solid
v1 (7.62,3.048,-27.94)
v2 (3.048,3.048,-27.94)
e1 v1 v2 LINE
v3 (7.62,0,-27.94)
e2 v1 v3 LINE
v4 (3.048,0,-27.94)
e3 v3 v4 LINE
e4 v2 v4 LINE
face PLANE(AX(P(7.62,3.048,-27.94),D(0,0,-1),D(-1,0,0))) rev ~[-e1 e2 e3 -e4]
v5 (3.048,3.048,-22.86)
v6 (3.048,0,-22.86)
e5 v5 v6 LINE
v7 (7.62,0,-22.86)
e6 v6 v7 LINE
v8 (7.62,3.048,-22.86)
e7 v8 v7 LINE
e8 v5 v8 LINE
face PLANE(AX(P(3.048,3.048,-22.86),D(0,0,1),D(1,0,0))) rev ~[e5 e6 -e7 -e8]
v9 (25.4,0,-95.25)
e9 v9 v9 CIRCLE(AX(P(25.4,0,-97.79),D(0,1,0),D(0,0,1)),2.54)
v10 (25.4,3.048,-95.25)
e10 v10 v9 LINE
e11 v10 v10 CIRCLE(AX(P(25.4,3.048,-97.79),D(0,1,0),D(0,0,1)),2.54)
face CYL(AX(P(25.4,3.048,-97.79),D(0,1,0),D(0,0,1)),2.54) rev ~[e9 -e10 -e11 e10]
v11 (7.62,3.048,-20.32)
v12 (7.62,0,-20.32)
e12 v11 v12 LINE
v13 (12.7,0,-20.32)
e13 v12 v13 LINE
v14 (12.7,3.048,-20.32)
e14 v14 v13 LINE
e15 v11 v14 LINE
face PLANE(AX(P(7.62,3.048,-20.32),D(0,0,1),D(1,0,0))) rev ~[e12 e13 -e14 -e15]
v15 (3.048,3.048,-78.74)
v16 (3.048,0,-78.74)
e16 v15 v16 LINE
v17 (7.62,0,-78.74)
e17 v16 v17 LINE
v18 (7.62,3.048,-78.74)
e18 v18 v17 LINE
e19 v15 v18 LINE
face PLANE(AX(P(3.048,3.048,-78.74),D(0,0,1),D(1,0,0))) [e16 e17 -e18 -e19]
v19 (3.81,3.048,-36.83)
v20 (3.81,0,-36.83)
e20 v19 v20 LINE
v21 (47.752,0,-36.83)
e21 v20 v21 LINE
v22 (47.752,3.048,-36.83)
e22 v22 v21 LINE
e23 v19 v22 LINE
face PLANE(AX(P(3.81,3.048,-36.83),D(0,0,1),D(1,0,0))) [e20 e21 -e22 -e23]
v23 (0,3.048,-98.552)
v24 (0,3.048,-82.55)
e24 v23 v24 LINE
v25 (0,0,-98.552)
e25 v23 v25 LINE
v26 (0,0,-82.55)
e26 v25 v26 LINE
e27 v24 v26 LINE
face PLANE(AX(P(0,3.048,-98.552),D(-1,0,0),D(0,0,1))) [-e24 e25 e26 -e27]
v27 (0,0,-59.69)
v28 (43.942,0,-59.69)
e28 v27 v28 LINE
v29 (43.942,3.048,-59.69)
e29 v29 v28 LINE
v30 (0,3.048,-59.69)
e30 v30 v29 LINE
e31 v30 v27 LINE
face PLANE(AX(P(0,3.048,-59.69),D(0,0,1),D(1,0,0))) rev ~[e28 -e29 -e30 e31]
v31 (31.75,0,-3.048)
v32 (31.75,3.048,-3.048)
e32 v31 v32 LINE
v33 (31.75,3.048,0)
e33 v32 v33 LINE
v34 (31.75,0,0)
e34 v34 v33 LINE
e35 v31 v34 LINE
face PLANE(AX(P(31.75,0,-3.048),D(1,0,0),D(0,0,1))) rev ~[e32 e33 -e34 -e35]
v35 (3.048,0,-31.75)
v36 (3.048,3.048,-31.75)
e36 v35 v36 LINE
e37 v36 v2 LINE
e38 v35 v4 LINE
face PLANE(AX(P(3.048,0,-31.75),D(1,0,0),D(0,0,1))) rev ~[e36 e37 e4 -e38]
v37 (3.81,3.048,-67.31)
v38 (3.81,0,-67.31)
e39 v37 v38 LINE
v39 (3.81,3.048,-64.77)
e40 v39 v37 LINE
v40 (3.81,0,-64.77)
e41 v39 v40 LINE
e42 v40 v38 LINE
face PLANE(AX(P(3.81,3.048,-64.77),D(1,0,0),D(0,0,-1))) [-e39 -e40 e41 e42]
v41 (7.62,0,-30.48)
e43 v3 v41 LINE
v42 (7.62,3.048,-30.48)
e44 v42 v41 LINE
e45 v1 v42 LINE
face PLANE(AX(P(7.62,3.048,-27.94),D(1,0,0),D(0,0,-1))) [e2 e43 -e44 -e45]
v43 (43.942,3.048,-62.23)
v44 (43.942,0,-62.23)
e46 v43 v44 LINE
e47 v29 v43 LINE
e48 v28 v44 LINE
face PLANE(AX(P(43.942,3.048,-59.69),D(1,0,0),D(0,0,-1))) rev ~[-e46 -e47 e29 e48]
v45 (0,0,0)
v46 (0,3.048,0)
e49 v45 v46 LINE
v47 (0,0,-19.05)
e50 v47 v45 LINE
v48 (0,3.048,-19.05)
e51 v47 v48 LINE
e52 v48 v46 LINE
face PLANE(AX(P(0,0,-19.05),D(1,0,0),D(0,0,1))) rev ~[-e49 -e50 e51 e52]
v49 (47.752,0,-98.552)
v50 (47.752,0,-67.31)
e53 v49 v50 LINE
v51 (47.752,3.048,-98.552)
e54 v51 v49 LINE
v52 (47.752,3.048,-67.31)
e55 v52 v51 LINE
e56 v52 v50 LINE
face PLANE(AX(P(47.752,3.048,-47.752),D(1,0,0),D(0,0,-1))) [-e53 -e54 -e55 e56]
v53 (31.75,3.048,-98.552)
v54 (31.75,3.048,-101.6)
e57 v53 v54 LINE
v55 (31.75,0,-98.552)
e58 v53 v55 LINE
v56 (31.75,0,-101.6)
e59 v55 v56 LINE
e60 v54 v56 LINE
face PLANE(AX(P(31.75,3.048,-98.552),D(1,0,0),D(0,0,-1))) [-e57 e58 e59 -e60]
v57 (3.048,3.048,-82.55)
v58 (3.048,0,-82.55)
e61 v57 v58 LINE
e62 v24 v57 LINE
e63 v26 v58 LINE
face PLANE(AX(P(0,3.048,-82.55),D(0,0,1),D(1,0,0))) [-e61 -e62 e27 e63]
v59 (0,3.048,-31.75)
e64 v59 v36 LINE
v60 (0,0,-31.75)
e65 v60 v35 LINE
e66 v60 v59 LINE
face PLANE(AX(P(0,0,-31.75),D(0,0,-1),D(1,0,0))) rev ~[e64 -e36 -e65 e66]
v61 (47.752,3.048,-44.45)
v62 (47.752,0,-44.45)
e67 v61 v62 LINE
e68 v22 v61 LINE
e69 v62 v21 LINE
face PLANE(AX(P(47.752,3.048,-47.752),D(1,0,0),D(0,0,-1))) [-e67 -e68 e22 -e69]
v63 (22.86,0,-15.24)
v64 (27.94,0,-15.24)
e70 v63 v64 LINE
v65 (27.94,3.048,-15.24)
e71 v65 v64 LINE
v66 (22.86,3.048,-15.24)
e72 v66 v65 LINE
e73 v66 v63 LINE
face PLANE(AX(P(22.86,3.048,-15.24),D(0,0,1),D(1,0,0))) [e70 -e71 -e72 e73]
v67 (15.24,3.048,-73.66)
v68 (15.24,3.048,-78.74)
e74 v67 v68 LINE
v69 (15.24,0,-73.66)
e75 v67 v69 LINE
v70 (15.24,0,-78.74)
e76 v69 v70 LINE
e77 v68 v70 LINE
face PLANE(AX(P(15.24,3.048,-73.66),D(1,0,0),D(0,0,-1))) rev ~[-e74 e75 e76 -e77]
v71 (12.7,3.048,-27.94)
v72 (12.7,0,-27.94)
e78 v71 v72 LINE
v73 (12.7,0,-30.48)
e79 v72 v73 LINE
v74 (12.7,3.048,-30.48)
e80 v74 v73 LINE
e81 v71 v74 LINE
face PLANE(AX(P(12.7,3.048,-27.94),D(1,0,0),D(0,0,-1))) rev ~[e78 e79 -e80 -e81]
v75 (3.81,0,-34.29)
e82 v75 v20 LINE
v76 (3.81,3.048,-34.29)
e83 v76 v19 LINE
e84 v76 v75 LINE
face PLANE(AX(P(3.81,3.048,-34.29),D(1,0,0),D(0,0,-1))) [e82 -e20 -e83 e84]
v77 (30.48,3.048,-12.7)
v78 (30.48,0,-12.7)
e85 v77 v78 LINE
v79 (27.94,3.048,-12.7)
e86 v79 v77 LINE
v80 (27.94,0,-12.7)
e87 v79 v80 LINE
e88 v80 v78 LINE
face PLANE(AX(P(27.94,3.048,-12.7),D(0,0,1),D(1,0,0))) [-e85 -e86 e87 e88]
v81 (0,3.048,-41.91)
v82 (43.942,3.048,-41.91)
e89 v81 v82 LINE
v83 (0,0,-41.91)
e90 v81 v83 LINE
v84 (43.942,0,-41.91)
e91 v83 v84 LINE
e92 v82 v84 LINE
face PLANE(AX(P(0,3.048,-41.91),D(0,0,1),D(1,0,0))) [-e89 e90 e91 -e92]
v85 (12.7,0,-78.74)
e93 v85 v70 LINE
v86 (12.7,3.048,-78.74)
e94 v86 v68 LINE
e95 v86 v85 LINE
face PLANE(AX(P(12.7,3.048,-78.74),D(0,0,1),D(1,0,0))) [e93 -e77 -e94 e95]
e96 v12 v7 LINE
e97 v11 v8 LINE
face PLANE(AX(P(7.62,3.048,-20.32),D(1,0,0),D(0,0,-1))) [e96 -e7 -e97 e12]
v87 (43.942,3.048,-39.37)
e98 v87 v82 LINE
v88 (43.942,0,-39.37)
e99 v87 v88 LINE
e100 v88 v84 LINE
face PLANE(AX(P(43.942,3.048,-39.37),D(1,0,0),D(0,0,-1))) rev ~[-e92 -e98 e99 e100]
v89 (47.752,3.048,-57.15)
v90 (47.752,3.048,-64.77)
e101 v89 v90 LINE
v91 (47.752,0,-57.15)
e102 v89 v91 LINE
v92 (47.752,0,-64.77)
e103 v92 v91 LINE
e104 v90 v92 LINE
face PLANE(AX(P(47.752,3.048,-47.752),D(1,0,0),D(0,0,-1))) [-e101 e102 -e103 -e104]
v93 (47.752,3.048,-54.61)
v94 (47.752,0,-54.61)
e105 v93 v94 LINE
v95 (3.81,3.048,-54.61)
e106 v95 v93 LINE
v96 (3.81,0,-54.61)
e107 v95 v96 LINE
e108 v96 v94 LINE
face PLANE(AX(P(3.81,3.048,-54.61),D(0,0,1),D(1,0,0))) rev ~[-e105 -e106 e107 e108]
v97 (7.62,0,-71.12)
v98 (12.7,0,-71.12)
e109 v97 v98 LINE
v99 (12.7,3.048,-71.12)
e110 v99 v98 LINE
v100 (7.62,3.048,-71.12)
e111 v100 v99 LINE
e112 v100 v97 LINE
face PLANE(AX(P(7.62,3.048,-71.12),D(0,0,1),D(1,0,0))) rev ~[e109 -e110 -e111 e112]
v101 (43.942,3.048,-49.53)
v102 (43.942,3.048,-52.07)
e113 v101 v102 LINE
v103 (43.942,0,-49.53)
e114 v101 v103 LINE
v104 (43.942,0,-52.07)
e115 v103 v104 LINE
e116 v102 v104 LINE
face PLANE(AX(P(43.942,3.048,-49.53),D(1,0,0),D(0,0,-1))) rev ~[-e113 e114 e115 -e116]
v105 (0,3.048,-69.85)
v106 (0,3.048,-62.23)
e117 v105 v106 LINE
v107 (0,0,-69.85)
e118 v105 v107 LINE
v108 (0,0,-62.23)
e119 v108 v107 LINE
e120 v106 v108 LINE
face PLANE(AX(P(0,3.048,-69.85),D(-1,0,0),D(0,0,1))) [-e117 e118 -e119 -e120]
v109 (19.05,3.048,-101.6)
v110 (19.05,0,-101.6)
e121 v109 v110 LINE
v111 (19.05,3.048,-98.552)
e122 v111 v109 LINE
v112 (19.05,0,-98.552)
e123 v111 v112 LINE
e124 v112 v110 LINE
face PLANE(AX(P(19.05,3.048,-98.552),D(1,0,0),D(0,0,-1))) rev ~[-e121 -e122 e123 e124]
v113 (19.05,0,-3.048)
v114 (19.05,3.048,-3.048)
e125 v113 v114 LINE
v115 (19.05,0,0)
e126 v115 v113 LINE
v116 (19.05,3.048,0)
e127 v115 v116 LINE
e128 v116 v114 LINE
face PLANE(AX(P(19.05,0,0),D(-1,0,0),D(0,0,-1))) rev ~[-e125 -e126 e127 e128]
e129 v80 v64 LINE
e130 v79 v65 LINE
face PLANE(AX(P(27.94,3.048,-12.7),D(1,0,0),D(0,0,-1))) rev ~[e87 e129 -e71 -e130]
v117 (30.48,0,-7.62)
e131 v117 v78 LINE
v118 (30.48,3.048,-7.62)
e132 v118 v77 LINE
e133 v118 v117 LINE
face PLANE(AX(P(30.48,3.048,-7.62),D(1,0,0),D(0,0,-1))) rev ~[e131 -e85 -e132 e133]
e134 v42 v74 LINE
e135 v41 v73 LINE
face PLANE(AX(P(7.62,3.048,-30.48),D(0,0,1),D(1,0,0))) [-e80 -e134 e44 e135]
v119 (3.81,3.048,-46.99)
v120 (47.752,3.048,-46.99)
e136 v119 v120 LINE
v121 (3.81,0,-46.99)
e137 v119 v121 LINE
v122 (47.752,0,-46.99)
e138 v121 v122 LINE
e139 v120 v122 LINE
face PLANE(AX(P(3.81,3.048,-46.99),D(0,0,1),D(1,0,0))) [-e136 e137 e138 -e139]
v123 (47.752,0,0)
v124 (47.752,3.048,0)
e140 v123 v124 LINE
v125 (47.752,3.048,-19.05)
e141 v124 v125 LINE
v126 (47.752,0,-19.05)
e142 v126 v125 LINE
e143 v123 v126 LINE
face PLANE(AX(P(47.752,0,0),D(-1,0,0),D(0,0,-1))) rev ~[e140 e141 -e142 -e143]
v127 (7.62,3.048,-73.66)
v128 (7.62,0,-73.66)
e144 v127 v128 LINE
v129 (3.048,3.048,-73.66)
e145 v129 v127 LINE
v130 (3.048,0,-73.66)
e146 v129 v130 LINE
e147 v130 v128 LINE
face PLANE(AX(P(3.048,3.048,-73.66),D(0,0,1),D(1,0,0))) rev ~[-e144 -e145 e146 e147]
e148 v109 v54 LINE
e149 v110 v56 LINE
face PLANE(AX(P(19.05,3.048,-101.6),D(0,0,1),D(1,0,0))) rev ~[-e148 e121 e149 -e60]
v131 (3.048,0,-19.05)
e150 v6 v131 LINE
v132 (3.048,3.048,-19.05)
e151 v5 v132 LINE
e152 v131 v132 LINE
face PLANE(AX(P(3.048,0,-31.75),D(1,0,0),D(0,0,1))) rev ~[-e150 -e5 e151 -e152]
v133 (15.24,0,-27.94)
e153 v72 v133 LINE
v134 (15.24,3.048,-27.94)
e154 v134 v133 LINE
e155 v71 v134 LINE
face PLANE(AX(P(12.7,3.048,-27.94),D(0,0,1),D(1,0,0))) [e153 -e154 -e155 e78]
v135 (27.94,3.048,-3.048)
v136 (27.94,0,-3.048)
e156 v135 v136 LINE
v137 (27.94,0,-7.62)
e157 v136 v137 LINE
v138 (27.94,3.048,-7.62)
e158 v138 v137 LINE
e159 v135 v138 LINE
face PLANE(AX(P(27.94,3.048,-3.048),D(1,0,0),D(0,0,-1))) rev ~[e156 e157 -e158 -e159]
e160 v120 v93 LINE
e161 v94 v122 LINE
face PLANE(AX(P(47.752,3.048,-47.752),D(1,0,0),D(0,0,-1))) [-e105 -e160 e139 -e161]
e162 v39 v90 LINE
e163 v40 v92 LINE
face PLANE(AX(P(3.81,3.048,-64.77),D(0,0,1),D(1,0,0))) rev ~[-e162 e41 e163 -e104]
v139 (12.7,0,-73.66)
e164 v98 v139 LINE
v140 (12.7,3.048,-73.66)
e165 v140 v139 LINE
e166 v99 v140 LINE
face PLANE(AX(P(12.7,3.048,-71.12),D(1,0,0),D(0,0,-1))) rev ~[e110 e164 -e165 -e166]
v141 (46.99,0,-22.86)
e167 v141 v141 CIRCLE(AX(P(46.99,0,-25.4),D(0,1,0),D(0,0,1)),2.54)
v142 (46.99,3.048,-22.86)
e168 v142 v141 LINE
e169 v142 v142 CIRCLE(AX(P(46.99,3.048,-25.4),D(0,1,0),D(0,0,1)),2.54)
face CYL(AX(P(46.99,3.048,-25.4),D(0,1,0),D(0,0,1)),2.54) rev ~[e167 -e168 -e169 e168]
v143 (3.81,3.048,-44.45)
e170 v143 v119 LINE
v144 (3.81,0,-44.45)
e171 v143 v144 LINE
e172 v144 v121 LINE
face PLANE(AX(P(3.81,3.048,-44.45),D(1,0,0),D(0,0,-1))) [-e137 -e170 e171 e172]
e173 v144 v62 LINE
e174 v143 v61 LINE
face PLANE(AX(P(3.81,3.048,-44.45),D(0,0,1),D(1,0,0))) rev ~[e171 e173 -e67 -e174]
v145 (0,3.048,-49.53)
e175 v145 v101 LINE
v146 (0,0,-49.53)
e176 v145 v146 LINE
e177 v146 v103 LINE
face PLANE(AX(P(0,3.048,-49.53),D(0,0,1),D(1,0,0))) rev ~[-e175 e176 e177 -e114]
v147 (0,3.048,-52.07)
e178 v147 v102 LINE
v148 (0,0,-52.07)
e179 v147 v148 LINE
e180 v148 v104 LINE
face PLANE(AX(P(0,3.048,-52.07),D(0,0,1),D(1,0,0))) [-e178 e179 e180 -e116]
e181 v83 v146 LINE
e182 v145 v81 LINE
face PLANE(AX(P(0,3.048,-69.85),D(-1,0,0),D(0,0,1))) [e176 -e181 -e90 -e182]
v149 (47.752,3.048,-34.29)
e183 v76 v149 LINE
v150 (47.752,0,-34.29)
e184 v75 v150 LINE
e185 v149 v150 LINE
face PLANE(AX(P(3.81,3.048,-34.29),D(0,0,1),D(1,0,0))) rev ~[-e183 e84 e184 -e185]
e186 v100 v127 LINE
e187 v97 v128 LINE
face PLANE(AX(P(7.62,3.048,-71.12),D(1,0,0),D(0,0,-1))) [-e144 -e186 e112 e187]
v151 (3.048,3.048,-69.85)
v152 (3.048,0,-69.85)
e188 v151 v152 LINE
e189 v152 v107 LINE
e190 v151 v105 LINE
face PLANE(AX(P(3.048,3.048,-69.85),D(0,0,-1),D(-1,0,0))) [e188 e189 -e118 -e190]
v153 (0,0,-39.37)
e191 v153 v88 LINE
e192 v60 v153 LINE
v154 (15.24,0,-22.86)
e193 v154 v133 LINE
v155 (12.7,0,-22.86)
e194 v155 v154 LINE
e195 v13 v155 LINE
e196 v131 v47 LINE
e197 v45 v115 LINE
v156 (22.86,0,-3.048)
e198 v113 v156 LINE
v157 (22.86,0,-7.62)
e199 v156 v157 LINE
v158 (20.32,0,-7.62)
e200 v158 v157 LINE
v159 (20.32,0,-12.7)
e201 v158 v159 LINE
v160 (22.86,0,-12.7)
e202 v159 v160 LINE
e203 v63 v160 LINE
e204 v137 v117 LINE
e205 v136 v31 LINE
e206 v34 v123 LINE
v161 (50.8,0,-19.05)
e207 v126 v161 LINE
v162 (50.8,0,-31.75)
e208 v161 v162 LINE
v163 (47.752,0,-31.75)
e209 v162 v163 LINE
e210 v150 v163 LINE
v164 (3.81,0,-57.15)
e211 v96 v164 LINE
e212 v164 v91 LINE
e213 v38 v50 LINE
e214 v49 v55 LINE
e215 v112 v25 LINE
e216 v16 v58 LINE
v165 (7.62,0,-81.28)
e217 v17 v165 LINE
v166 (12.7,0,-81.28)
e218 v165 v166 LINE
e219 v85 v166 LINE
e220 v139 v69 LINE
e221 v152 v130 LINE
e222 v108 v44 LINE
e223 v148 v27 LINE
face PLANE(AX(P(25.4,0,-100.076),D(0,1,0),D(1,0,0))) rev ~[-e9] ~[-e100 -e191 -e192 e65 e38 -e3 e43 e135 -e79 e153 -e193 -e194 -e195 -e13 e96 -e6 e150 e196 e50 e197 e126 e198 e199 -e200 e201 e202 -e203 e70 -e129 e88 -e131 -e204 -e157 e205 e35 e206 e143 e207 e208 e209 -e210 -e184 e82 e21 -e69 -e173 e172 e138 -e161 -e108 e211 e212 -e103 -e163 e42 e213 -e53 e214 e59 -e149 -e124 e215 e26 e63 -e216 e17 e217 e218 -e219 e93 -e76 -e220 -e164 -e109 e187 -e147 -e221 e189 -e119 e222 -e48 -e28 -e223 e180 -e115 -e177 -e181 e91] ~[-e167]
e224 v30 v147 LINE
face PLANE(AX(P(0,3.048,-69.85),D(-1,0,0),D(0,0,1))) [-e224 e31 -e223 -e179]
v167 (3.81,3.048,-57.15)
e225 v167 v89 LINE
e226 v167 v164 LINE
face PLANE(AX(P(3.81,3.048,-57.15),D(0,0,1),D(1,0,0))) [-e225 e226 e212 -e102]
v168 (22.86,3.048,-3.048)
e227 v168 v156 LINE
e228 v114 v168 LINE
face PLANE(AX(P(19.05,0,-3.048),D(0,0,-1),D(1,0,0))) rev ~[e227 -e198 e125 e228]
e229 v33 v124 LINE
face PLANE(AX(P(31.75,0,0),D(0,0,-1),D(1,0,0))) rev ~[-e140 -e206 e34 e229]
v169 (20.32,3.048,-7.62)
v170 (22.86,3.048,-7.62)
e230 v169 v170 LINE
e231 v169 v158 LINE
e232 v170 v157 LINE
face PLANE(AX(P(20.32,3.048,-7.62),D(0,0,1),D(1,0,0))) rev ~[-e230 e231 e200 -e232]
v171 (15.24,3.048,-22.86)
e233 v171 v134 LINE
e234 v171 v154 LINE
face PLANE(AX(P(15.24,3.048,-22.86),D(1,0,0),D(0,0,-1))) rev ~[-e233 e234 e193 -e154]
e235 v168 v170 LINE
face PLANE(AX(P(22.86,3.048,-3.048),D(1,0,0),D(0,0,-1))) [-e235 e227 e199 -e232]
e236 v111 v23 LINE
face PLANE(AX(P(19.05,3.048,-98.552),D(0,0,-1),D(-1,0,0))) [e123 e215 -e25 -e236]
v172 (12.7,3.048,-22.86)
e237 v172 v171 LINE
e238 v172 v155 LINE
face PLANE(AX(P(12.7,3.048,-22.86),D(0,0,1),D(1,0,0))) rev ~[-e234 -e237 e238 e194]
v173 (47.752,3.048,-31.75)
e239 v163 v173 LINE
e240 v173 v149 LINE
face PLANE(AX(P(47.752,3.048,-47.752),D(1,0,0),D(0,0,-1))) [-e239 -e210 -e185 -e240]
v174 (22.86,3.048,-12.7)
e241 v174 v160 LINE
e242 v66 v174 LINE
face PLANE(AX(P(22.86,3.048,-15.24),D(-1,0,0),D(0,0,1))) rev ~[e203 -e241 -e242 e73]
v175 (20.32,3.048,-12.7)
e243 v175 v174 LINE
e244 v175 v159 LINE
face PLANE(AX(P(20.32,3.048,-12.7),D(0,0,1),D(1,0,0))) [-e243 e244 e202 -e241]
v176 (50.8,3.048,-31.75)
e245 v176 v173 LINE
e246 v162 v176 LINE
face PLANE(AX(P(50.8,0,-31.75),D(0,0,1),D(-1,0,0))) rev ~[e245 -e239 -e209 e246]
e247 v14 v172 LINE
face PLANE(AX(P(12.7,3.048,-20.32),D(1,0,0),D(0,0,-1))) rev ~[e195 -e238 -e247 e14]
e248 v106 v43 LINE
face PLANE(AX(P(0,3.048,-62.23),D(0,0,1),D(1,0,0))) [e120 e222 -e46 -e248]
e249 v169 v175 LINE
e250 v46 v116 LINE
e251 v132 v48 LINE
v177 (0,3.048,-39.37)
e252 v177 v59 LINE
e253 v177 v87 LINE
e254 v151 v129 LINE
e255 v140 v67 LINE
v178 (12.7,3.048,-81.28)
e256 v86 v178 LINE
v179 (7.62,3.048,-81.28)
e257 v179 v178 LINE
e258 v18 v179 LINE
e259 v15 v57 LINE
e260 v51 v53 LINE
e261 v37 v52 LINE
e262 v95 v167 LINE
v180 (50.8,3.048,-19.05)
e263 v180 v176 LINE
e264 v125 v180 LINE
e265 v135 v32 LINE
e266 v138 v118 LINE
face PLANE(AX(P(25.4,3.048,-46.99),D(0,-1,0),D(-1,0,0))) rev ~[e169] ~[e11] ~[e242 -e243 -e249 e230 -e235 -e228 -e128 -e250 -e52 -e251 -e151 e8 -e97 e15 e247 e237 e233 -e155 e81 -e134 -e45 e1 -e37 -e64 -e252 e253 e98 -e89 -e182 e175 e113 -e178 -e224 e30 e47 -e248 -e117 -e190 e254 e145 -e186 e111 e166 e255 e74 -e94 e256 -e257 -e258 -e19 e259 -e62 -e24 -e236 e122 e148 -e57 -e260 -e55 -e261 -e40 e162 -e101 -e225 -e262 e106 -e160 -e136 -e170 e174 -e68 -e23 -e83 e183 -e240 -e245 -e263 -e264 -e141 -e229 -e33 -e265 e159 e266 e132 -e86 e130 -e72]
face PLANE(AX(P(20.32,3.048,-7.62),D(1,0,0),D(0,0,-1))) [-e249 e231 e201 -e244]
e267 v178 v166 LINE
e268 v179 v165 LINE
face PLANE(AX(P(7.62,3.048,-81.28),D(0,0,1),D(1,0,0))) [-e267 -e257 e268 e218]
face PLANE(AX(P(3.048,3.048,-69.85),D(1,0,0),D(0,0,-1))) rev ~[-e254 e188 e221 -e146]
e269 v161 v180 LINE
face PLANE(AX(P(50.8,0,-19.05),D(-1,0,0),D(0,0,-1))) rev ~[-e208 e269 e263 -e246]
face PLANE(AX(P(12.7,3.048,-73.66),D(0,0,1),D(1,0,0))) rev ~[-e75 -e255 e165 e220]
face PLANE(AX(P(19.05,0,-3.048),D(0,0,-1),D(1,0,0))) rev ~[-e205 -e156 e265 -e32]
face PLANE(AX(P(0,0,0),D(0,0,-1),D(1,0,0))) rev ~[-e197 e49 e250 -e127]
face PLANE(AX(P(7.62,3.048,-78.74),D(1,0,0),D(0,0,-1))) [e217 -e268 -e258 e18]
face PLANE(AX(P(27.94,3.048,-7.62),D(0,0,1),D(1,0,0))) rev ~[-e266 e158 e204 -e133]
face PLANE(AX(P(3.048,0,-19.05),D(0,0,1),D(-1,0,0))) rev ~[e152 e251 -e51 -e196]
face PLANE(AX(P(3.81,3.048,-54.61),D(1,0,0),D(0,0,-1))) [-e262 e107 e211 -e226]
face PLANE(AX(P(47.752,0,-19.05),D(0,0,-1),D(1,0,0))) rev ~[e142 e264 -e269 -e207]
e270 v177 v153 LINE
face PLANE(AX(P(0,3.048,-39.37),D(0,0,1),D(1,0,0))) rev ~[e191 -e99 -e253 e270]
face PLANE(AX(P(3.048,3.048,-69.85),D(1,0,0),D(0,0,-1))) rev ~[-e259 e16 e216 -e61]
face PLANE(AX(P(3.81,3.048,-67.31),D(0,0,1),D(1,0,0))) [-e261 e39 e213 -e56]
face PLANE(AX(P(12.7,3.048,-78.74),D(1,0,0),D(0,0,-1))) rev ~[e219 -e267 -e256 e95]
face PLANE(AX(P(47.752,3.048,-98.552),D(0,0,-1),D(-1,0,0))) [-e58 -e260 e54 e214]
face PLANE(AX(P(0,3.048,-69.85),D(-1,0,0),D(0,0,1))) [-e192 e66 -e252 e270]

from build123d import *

# Parameters (mm, degrees)
BOSS_EXTRUDE1_DEPTH = 3.048
SKETCH2_W           = 4.572
SKETCH2_H           = 5.08
SKETCH2_W_2         = 5.08
SKETCH2_H_2         = 2.54
SKETCH2_W_3         = 2.54
SKETCH2_H_3         = 4.572
SKETCH2_R           = 2.54
CUT_EXTRUDE1_DEPTH  = 3.048
SKETCH3_W           = 12.7
SKETCH3_H           = 3.048
SKETCH3_W_2         = 44.704
SKETCH3_H_2         = 12.7
BOSS_EXTRUDE2_DEPTH = 3.048
BOSS_EXTRUDE3_START = -3.048
SKETCH4_R           = 2.54
BOSS_EXTRUDE3_DEPTH = 3.048
SKETCH5_R           = 2.54
SKETCH5_W           = 5.08
SKETCH5_H           = 2.54
SKETCH5_W_2         = 4.572
SKETCH5_H_2         = 5.08
SKETCH5_W_3         = 2.54
SKETCH5_W_4         = 43.942
CUT_EXTRUDE2_DEPTH  = 114.63313911


with BuildPart() as part:
    # Sketch1 → Boss-Extrude1 (new body)
    with BuildSketch(Plane(origin=(0, 0, 0), x_dir=(1, 0, 0), z_dir=(0, 1, 0))):
        Polygon((0, 19.05), (0, 0), (19.05, 0), (19.05, 3.048), (31.75, 3.048), (31.75, 0), (47.752, 0), (47.752, 19.05), (50.8, 19.05), (50.8, 31.75), (47.752, 31.75), (47.752, 47.752), (31.75, 47.752), (31.75, 50.8), (19.05, 50.8), (19.05, 47.752), (0, 47.752), (0, 31.75), (3.048, 31.75), (3.048, 19.05), align=None)
    extrude(amount=BOSS_EXTRUDE1_DEPTH)

    # Sketch2 → Cut-Extrude1 (cut)
    with BuildSketch(Plane(origin=(0, 3.048, 0), x_dir=(1, 0, 0), z_dir=(0, 1, 0))):
        with Locations((5.334, 25.4)):
            Rectangle(SKETCH2_W, SKETCH2_H)
        with Locations((10.16, 25.4)):
            Rectangle(SKETCH2_W_2, SKETCH2_H)
        with Locations((10.16, 29.21)):
            Rectangle(SKETCH2_W_2, SKETCH2_H_2)
        with Locations((13.97, 25.4)):
            Rectangle(SKETCH2_W_3, SKETCH2_H)
        with Locations((10.16, 21.59)):
            Rectangle(SKETCH2_W_2, SKETCH2_H_2)
        with Locations((25.4, 13.97)):
            Rectangle(SKETCH2_W_2, SKETCH2_H_2)
        with Locations((25.4, 10.16)):
            Rectangle(SKETCH2_W_2, SKETCH2_H)
        with Locations((29.21, 10.16)):
            Rectangle(SKETCH2_W_3, SKETCH2_H)
        with Locations((21.59, 10.16)):
            Rectangle(SKETCH2_W_3, SKETCH2_H)
        with Locations((25.4, 5.334)):
            Rectangle(SKETCH2_W_2, SKETCH2_H_3)
        with Locations(Location((46.99, 25.4, 0), (0, 0, 270))):
            Circle(SKETCH2_R)
        with Locations(Location((25.4, 46.99, 0), (0, 0, 270))):
            Circle(SKETCH2_R)
    extrude(amount=-CUT_EXTRUDE1_DEPTH, mode=Mode.SUBTRACT)

    # Sketch3 → Boss-Extrude2 (add)
    with BuildSketch(Plane(origin=(0, 3.048, 0), x_dir=(1, 0, 0), z_dir=(0, 1, 0))):
        with Locations((25.4, 100.076)):
            Rectangle(SKETCH3_W, SKETCH3_H)
        Polygon((3.048, 82.55), (47.752, 82.55), (47.752, 98.552), (31.75, 98.552), (19.05, 98.552), (0, 98.552), (0, 82.55), align=None)
        with Locations((25.4, 76.2)):
            Rectangle(SKETCH3_W_2, SKETCH3_H_2)
        Polygon((0, 69.85), (0, 47.752), (19.05, 47.752), (19.05, 50.8), (31.75, 50.8), (31.75, 47.752), (47.752, 47.752), (47.752, 69.85), (3.048, 69.85), align=None)
    extrude(amount=-BOSS_EXTRUDE2_DEPTH)

    # Sketch4 → Boss-Extrude3 (add)
    with BuildSketch(Plane(origin=(0, 0, 0), x_dir=(-1, 0, 0), z_dir=(0, -1, 0)).offset(BOSS_EXTRUDE3_START)):
        with Locations((-25.4, 46.99)):
            Circle(SKETCH4_R)
    extrude(amount=BOSS_EXTRUDE3_DEPTH)

    # Sketch5 → Cut-Extrude2 (cut, through all)
    with BuildSketch(Plane(origin=(0, 3.048, 0), x_dir=(1, 0, 0), z_dir=(0, 1, 0))):
        with Locations(Location((25.4, 97.79, 0), (0, 0, 270))):
            Circle(SKETCH5_R)
        with Locations((10.16, 80.01)):
            Rectangle(SKETCH5_W, SKETCH5_H)
        with Locations((5.334, 76.2)):
            Rectangle(SKETCH5_W_2, SKETCH5_H_2)
        with Locations((10.16, 76.2)):
            Rectangle(SKETCH5_W, SKETCH5_H_2)
        with Locations((13.97, 76.2)):
            Rectangle(SKETCH5_W_3, SKETCH5_H_2)
        with Locations((10.16, 72.39)):
            Rectangle(SKETCH5_W, SKETCH5_H)
        with Locations((25.781, 66.04)):
            Rectangle(SKETCH5_W_4, SKETCH5_H)
        with Locations((21.971, 60.96)):
            Rectangle(SKETCH5_W_4, SKETCH5_H)
        with Locations((25.781, 55.88)):
            Rectangle(SKETCH5_W_4, SKETCH5_H)
        with Locations((21.971, 50.8)):
            Rectangle(SKETCH5_W_4, SKETCH5_H)
        with Locations((25.781, 45.72)):
            Rectangle(SKETCH5_W_4, SKETCH5_H)
        with Locations((21.971, 40.64)):
            Rectangle(SKETCH5_W_4, SKETCH5_H)
        with Locations((25.781, 35.56)):
            Rectangle(SKETCH5_W_4, SKETCH5_H)
    extrude(amount=-CUT_EXTRUDE2_DEPTH, mode=Mode.SUBTRACT)


solid = part.part
